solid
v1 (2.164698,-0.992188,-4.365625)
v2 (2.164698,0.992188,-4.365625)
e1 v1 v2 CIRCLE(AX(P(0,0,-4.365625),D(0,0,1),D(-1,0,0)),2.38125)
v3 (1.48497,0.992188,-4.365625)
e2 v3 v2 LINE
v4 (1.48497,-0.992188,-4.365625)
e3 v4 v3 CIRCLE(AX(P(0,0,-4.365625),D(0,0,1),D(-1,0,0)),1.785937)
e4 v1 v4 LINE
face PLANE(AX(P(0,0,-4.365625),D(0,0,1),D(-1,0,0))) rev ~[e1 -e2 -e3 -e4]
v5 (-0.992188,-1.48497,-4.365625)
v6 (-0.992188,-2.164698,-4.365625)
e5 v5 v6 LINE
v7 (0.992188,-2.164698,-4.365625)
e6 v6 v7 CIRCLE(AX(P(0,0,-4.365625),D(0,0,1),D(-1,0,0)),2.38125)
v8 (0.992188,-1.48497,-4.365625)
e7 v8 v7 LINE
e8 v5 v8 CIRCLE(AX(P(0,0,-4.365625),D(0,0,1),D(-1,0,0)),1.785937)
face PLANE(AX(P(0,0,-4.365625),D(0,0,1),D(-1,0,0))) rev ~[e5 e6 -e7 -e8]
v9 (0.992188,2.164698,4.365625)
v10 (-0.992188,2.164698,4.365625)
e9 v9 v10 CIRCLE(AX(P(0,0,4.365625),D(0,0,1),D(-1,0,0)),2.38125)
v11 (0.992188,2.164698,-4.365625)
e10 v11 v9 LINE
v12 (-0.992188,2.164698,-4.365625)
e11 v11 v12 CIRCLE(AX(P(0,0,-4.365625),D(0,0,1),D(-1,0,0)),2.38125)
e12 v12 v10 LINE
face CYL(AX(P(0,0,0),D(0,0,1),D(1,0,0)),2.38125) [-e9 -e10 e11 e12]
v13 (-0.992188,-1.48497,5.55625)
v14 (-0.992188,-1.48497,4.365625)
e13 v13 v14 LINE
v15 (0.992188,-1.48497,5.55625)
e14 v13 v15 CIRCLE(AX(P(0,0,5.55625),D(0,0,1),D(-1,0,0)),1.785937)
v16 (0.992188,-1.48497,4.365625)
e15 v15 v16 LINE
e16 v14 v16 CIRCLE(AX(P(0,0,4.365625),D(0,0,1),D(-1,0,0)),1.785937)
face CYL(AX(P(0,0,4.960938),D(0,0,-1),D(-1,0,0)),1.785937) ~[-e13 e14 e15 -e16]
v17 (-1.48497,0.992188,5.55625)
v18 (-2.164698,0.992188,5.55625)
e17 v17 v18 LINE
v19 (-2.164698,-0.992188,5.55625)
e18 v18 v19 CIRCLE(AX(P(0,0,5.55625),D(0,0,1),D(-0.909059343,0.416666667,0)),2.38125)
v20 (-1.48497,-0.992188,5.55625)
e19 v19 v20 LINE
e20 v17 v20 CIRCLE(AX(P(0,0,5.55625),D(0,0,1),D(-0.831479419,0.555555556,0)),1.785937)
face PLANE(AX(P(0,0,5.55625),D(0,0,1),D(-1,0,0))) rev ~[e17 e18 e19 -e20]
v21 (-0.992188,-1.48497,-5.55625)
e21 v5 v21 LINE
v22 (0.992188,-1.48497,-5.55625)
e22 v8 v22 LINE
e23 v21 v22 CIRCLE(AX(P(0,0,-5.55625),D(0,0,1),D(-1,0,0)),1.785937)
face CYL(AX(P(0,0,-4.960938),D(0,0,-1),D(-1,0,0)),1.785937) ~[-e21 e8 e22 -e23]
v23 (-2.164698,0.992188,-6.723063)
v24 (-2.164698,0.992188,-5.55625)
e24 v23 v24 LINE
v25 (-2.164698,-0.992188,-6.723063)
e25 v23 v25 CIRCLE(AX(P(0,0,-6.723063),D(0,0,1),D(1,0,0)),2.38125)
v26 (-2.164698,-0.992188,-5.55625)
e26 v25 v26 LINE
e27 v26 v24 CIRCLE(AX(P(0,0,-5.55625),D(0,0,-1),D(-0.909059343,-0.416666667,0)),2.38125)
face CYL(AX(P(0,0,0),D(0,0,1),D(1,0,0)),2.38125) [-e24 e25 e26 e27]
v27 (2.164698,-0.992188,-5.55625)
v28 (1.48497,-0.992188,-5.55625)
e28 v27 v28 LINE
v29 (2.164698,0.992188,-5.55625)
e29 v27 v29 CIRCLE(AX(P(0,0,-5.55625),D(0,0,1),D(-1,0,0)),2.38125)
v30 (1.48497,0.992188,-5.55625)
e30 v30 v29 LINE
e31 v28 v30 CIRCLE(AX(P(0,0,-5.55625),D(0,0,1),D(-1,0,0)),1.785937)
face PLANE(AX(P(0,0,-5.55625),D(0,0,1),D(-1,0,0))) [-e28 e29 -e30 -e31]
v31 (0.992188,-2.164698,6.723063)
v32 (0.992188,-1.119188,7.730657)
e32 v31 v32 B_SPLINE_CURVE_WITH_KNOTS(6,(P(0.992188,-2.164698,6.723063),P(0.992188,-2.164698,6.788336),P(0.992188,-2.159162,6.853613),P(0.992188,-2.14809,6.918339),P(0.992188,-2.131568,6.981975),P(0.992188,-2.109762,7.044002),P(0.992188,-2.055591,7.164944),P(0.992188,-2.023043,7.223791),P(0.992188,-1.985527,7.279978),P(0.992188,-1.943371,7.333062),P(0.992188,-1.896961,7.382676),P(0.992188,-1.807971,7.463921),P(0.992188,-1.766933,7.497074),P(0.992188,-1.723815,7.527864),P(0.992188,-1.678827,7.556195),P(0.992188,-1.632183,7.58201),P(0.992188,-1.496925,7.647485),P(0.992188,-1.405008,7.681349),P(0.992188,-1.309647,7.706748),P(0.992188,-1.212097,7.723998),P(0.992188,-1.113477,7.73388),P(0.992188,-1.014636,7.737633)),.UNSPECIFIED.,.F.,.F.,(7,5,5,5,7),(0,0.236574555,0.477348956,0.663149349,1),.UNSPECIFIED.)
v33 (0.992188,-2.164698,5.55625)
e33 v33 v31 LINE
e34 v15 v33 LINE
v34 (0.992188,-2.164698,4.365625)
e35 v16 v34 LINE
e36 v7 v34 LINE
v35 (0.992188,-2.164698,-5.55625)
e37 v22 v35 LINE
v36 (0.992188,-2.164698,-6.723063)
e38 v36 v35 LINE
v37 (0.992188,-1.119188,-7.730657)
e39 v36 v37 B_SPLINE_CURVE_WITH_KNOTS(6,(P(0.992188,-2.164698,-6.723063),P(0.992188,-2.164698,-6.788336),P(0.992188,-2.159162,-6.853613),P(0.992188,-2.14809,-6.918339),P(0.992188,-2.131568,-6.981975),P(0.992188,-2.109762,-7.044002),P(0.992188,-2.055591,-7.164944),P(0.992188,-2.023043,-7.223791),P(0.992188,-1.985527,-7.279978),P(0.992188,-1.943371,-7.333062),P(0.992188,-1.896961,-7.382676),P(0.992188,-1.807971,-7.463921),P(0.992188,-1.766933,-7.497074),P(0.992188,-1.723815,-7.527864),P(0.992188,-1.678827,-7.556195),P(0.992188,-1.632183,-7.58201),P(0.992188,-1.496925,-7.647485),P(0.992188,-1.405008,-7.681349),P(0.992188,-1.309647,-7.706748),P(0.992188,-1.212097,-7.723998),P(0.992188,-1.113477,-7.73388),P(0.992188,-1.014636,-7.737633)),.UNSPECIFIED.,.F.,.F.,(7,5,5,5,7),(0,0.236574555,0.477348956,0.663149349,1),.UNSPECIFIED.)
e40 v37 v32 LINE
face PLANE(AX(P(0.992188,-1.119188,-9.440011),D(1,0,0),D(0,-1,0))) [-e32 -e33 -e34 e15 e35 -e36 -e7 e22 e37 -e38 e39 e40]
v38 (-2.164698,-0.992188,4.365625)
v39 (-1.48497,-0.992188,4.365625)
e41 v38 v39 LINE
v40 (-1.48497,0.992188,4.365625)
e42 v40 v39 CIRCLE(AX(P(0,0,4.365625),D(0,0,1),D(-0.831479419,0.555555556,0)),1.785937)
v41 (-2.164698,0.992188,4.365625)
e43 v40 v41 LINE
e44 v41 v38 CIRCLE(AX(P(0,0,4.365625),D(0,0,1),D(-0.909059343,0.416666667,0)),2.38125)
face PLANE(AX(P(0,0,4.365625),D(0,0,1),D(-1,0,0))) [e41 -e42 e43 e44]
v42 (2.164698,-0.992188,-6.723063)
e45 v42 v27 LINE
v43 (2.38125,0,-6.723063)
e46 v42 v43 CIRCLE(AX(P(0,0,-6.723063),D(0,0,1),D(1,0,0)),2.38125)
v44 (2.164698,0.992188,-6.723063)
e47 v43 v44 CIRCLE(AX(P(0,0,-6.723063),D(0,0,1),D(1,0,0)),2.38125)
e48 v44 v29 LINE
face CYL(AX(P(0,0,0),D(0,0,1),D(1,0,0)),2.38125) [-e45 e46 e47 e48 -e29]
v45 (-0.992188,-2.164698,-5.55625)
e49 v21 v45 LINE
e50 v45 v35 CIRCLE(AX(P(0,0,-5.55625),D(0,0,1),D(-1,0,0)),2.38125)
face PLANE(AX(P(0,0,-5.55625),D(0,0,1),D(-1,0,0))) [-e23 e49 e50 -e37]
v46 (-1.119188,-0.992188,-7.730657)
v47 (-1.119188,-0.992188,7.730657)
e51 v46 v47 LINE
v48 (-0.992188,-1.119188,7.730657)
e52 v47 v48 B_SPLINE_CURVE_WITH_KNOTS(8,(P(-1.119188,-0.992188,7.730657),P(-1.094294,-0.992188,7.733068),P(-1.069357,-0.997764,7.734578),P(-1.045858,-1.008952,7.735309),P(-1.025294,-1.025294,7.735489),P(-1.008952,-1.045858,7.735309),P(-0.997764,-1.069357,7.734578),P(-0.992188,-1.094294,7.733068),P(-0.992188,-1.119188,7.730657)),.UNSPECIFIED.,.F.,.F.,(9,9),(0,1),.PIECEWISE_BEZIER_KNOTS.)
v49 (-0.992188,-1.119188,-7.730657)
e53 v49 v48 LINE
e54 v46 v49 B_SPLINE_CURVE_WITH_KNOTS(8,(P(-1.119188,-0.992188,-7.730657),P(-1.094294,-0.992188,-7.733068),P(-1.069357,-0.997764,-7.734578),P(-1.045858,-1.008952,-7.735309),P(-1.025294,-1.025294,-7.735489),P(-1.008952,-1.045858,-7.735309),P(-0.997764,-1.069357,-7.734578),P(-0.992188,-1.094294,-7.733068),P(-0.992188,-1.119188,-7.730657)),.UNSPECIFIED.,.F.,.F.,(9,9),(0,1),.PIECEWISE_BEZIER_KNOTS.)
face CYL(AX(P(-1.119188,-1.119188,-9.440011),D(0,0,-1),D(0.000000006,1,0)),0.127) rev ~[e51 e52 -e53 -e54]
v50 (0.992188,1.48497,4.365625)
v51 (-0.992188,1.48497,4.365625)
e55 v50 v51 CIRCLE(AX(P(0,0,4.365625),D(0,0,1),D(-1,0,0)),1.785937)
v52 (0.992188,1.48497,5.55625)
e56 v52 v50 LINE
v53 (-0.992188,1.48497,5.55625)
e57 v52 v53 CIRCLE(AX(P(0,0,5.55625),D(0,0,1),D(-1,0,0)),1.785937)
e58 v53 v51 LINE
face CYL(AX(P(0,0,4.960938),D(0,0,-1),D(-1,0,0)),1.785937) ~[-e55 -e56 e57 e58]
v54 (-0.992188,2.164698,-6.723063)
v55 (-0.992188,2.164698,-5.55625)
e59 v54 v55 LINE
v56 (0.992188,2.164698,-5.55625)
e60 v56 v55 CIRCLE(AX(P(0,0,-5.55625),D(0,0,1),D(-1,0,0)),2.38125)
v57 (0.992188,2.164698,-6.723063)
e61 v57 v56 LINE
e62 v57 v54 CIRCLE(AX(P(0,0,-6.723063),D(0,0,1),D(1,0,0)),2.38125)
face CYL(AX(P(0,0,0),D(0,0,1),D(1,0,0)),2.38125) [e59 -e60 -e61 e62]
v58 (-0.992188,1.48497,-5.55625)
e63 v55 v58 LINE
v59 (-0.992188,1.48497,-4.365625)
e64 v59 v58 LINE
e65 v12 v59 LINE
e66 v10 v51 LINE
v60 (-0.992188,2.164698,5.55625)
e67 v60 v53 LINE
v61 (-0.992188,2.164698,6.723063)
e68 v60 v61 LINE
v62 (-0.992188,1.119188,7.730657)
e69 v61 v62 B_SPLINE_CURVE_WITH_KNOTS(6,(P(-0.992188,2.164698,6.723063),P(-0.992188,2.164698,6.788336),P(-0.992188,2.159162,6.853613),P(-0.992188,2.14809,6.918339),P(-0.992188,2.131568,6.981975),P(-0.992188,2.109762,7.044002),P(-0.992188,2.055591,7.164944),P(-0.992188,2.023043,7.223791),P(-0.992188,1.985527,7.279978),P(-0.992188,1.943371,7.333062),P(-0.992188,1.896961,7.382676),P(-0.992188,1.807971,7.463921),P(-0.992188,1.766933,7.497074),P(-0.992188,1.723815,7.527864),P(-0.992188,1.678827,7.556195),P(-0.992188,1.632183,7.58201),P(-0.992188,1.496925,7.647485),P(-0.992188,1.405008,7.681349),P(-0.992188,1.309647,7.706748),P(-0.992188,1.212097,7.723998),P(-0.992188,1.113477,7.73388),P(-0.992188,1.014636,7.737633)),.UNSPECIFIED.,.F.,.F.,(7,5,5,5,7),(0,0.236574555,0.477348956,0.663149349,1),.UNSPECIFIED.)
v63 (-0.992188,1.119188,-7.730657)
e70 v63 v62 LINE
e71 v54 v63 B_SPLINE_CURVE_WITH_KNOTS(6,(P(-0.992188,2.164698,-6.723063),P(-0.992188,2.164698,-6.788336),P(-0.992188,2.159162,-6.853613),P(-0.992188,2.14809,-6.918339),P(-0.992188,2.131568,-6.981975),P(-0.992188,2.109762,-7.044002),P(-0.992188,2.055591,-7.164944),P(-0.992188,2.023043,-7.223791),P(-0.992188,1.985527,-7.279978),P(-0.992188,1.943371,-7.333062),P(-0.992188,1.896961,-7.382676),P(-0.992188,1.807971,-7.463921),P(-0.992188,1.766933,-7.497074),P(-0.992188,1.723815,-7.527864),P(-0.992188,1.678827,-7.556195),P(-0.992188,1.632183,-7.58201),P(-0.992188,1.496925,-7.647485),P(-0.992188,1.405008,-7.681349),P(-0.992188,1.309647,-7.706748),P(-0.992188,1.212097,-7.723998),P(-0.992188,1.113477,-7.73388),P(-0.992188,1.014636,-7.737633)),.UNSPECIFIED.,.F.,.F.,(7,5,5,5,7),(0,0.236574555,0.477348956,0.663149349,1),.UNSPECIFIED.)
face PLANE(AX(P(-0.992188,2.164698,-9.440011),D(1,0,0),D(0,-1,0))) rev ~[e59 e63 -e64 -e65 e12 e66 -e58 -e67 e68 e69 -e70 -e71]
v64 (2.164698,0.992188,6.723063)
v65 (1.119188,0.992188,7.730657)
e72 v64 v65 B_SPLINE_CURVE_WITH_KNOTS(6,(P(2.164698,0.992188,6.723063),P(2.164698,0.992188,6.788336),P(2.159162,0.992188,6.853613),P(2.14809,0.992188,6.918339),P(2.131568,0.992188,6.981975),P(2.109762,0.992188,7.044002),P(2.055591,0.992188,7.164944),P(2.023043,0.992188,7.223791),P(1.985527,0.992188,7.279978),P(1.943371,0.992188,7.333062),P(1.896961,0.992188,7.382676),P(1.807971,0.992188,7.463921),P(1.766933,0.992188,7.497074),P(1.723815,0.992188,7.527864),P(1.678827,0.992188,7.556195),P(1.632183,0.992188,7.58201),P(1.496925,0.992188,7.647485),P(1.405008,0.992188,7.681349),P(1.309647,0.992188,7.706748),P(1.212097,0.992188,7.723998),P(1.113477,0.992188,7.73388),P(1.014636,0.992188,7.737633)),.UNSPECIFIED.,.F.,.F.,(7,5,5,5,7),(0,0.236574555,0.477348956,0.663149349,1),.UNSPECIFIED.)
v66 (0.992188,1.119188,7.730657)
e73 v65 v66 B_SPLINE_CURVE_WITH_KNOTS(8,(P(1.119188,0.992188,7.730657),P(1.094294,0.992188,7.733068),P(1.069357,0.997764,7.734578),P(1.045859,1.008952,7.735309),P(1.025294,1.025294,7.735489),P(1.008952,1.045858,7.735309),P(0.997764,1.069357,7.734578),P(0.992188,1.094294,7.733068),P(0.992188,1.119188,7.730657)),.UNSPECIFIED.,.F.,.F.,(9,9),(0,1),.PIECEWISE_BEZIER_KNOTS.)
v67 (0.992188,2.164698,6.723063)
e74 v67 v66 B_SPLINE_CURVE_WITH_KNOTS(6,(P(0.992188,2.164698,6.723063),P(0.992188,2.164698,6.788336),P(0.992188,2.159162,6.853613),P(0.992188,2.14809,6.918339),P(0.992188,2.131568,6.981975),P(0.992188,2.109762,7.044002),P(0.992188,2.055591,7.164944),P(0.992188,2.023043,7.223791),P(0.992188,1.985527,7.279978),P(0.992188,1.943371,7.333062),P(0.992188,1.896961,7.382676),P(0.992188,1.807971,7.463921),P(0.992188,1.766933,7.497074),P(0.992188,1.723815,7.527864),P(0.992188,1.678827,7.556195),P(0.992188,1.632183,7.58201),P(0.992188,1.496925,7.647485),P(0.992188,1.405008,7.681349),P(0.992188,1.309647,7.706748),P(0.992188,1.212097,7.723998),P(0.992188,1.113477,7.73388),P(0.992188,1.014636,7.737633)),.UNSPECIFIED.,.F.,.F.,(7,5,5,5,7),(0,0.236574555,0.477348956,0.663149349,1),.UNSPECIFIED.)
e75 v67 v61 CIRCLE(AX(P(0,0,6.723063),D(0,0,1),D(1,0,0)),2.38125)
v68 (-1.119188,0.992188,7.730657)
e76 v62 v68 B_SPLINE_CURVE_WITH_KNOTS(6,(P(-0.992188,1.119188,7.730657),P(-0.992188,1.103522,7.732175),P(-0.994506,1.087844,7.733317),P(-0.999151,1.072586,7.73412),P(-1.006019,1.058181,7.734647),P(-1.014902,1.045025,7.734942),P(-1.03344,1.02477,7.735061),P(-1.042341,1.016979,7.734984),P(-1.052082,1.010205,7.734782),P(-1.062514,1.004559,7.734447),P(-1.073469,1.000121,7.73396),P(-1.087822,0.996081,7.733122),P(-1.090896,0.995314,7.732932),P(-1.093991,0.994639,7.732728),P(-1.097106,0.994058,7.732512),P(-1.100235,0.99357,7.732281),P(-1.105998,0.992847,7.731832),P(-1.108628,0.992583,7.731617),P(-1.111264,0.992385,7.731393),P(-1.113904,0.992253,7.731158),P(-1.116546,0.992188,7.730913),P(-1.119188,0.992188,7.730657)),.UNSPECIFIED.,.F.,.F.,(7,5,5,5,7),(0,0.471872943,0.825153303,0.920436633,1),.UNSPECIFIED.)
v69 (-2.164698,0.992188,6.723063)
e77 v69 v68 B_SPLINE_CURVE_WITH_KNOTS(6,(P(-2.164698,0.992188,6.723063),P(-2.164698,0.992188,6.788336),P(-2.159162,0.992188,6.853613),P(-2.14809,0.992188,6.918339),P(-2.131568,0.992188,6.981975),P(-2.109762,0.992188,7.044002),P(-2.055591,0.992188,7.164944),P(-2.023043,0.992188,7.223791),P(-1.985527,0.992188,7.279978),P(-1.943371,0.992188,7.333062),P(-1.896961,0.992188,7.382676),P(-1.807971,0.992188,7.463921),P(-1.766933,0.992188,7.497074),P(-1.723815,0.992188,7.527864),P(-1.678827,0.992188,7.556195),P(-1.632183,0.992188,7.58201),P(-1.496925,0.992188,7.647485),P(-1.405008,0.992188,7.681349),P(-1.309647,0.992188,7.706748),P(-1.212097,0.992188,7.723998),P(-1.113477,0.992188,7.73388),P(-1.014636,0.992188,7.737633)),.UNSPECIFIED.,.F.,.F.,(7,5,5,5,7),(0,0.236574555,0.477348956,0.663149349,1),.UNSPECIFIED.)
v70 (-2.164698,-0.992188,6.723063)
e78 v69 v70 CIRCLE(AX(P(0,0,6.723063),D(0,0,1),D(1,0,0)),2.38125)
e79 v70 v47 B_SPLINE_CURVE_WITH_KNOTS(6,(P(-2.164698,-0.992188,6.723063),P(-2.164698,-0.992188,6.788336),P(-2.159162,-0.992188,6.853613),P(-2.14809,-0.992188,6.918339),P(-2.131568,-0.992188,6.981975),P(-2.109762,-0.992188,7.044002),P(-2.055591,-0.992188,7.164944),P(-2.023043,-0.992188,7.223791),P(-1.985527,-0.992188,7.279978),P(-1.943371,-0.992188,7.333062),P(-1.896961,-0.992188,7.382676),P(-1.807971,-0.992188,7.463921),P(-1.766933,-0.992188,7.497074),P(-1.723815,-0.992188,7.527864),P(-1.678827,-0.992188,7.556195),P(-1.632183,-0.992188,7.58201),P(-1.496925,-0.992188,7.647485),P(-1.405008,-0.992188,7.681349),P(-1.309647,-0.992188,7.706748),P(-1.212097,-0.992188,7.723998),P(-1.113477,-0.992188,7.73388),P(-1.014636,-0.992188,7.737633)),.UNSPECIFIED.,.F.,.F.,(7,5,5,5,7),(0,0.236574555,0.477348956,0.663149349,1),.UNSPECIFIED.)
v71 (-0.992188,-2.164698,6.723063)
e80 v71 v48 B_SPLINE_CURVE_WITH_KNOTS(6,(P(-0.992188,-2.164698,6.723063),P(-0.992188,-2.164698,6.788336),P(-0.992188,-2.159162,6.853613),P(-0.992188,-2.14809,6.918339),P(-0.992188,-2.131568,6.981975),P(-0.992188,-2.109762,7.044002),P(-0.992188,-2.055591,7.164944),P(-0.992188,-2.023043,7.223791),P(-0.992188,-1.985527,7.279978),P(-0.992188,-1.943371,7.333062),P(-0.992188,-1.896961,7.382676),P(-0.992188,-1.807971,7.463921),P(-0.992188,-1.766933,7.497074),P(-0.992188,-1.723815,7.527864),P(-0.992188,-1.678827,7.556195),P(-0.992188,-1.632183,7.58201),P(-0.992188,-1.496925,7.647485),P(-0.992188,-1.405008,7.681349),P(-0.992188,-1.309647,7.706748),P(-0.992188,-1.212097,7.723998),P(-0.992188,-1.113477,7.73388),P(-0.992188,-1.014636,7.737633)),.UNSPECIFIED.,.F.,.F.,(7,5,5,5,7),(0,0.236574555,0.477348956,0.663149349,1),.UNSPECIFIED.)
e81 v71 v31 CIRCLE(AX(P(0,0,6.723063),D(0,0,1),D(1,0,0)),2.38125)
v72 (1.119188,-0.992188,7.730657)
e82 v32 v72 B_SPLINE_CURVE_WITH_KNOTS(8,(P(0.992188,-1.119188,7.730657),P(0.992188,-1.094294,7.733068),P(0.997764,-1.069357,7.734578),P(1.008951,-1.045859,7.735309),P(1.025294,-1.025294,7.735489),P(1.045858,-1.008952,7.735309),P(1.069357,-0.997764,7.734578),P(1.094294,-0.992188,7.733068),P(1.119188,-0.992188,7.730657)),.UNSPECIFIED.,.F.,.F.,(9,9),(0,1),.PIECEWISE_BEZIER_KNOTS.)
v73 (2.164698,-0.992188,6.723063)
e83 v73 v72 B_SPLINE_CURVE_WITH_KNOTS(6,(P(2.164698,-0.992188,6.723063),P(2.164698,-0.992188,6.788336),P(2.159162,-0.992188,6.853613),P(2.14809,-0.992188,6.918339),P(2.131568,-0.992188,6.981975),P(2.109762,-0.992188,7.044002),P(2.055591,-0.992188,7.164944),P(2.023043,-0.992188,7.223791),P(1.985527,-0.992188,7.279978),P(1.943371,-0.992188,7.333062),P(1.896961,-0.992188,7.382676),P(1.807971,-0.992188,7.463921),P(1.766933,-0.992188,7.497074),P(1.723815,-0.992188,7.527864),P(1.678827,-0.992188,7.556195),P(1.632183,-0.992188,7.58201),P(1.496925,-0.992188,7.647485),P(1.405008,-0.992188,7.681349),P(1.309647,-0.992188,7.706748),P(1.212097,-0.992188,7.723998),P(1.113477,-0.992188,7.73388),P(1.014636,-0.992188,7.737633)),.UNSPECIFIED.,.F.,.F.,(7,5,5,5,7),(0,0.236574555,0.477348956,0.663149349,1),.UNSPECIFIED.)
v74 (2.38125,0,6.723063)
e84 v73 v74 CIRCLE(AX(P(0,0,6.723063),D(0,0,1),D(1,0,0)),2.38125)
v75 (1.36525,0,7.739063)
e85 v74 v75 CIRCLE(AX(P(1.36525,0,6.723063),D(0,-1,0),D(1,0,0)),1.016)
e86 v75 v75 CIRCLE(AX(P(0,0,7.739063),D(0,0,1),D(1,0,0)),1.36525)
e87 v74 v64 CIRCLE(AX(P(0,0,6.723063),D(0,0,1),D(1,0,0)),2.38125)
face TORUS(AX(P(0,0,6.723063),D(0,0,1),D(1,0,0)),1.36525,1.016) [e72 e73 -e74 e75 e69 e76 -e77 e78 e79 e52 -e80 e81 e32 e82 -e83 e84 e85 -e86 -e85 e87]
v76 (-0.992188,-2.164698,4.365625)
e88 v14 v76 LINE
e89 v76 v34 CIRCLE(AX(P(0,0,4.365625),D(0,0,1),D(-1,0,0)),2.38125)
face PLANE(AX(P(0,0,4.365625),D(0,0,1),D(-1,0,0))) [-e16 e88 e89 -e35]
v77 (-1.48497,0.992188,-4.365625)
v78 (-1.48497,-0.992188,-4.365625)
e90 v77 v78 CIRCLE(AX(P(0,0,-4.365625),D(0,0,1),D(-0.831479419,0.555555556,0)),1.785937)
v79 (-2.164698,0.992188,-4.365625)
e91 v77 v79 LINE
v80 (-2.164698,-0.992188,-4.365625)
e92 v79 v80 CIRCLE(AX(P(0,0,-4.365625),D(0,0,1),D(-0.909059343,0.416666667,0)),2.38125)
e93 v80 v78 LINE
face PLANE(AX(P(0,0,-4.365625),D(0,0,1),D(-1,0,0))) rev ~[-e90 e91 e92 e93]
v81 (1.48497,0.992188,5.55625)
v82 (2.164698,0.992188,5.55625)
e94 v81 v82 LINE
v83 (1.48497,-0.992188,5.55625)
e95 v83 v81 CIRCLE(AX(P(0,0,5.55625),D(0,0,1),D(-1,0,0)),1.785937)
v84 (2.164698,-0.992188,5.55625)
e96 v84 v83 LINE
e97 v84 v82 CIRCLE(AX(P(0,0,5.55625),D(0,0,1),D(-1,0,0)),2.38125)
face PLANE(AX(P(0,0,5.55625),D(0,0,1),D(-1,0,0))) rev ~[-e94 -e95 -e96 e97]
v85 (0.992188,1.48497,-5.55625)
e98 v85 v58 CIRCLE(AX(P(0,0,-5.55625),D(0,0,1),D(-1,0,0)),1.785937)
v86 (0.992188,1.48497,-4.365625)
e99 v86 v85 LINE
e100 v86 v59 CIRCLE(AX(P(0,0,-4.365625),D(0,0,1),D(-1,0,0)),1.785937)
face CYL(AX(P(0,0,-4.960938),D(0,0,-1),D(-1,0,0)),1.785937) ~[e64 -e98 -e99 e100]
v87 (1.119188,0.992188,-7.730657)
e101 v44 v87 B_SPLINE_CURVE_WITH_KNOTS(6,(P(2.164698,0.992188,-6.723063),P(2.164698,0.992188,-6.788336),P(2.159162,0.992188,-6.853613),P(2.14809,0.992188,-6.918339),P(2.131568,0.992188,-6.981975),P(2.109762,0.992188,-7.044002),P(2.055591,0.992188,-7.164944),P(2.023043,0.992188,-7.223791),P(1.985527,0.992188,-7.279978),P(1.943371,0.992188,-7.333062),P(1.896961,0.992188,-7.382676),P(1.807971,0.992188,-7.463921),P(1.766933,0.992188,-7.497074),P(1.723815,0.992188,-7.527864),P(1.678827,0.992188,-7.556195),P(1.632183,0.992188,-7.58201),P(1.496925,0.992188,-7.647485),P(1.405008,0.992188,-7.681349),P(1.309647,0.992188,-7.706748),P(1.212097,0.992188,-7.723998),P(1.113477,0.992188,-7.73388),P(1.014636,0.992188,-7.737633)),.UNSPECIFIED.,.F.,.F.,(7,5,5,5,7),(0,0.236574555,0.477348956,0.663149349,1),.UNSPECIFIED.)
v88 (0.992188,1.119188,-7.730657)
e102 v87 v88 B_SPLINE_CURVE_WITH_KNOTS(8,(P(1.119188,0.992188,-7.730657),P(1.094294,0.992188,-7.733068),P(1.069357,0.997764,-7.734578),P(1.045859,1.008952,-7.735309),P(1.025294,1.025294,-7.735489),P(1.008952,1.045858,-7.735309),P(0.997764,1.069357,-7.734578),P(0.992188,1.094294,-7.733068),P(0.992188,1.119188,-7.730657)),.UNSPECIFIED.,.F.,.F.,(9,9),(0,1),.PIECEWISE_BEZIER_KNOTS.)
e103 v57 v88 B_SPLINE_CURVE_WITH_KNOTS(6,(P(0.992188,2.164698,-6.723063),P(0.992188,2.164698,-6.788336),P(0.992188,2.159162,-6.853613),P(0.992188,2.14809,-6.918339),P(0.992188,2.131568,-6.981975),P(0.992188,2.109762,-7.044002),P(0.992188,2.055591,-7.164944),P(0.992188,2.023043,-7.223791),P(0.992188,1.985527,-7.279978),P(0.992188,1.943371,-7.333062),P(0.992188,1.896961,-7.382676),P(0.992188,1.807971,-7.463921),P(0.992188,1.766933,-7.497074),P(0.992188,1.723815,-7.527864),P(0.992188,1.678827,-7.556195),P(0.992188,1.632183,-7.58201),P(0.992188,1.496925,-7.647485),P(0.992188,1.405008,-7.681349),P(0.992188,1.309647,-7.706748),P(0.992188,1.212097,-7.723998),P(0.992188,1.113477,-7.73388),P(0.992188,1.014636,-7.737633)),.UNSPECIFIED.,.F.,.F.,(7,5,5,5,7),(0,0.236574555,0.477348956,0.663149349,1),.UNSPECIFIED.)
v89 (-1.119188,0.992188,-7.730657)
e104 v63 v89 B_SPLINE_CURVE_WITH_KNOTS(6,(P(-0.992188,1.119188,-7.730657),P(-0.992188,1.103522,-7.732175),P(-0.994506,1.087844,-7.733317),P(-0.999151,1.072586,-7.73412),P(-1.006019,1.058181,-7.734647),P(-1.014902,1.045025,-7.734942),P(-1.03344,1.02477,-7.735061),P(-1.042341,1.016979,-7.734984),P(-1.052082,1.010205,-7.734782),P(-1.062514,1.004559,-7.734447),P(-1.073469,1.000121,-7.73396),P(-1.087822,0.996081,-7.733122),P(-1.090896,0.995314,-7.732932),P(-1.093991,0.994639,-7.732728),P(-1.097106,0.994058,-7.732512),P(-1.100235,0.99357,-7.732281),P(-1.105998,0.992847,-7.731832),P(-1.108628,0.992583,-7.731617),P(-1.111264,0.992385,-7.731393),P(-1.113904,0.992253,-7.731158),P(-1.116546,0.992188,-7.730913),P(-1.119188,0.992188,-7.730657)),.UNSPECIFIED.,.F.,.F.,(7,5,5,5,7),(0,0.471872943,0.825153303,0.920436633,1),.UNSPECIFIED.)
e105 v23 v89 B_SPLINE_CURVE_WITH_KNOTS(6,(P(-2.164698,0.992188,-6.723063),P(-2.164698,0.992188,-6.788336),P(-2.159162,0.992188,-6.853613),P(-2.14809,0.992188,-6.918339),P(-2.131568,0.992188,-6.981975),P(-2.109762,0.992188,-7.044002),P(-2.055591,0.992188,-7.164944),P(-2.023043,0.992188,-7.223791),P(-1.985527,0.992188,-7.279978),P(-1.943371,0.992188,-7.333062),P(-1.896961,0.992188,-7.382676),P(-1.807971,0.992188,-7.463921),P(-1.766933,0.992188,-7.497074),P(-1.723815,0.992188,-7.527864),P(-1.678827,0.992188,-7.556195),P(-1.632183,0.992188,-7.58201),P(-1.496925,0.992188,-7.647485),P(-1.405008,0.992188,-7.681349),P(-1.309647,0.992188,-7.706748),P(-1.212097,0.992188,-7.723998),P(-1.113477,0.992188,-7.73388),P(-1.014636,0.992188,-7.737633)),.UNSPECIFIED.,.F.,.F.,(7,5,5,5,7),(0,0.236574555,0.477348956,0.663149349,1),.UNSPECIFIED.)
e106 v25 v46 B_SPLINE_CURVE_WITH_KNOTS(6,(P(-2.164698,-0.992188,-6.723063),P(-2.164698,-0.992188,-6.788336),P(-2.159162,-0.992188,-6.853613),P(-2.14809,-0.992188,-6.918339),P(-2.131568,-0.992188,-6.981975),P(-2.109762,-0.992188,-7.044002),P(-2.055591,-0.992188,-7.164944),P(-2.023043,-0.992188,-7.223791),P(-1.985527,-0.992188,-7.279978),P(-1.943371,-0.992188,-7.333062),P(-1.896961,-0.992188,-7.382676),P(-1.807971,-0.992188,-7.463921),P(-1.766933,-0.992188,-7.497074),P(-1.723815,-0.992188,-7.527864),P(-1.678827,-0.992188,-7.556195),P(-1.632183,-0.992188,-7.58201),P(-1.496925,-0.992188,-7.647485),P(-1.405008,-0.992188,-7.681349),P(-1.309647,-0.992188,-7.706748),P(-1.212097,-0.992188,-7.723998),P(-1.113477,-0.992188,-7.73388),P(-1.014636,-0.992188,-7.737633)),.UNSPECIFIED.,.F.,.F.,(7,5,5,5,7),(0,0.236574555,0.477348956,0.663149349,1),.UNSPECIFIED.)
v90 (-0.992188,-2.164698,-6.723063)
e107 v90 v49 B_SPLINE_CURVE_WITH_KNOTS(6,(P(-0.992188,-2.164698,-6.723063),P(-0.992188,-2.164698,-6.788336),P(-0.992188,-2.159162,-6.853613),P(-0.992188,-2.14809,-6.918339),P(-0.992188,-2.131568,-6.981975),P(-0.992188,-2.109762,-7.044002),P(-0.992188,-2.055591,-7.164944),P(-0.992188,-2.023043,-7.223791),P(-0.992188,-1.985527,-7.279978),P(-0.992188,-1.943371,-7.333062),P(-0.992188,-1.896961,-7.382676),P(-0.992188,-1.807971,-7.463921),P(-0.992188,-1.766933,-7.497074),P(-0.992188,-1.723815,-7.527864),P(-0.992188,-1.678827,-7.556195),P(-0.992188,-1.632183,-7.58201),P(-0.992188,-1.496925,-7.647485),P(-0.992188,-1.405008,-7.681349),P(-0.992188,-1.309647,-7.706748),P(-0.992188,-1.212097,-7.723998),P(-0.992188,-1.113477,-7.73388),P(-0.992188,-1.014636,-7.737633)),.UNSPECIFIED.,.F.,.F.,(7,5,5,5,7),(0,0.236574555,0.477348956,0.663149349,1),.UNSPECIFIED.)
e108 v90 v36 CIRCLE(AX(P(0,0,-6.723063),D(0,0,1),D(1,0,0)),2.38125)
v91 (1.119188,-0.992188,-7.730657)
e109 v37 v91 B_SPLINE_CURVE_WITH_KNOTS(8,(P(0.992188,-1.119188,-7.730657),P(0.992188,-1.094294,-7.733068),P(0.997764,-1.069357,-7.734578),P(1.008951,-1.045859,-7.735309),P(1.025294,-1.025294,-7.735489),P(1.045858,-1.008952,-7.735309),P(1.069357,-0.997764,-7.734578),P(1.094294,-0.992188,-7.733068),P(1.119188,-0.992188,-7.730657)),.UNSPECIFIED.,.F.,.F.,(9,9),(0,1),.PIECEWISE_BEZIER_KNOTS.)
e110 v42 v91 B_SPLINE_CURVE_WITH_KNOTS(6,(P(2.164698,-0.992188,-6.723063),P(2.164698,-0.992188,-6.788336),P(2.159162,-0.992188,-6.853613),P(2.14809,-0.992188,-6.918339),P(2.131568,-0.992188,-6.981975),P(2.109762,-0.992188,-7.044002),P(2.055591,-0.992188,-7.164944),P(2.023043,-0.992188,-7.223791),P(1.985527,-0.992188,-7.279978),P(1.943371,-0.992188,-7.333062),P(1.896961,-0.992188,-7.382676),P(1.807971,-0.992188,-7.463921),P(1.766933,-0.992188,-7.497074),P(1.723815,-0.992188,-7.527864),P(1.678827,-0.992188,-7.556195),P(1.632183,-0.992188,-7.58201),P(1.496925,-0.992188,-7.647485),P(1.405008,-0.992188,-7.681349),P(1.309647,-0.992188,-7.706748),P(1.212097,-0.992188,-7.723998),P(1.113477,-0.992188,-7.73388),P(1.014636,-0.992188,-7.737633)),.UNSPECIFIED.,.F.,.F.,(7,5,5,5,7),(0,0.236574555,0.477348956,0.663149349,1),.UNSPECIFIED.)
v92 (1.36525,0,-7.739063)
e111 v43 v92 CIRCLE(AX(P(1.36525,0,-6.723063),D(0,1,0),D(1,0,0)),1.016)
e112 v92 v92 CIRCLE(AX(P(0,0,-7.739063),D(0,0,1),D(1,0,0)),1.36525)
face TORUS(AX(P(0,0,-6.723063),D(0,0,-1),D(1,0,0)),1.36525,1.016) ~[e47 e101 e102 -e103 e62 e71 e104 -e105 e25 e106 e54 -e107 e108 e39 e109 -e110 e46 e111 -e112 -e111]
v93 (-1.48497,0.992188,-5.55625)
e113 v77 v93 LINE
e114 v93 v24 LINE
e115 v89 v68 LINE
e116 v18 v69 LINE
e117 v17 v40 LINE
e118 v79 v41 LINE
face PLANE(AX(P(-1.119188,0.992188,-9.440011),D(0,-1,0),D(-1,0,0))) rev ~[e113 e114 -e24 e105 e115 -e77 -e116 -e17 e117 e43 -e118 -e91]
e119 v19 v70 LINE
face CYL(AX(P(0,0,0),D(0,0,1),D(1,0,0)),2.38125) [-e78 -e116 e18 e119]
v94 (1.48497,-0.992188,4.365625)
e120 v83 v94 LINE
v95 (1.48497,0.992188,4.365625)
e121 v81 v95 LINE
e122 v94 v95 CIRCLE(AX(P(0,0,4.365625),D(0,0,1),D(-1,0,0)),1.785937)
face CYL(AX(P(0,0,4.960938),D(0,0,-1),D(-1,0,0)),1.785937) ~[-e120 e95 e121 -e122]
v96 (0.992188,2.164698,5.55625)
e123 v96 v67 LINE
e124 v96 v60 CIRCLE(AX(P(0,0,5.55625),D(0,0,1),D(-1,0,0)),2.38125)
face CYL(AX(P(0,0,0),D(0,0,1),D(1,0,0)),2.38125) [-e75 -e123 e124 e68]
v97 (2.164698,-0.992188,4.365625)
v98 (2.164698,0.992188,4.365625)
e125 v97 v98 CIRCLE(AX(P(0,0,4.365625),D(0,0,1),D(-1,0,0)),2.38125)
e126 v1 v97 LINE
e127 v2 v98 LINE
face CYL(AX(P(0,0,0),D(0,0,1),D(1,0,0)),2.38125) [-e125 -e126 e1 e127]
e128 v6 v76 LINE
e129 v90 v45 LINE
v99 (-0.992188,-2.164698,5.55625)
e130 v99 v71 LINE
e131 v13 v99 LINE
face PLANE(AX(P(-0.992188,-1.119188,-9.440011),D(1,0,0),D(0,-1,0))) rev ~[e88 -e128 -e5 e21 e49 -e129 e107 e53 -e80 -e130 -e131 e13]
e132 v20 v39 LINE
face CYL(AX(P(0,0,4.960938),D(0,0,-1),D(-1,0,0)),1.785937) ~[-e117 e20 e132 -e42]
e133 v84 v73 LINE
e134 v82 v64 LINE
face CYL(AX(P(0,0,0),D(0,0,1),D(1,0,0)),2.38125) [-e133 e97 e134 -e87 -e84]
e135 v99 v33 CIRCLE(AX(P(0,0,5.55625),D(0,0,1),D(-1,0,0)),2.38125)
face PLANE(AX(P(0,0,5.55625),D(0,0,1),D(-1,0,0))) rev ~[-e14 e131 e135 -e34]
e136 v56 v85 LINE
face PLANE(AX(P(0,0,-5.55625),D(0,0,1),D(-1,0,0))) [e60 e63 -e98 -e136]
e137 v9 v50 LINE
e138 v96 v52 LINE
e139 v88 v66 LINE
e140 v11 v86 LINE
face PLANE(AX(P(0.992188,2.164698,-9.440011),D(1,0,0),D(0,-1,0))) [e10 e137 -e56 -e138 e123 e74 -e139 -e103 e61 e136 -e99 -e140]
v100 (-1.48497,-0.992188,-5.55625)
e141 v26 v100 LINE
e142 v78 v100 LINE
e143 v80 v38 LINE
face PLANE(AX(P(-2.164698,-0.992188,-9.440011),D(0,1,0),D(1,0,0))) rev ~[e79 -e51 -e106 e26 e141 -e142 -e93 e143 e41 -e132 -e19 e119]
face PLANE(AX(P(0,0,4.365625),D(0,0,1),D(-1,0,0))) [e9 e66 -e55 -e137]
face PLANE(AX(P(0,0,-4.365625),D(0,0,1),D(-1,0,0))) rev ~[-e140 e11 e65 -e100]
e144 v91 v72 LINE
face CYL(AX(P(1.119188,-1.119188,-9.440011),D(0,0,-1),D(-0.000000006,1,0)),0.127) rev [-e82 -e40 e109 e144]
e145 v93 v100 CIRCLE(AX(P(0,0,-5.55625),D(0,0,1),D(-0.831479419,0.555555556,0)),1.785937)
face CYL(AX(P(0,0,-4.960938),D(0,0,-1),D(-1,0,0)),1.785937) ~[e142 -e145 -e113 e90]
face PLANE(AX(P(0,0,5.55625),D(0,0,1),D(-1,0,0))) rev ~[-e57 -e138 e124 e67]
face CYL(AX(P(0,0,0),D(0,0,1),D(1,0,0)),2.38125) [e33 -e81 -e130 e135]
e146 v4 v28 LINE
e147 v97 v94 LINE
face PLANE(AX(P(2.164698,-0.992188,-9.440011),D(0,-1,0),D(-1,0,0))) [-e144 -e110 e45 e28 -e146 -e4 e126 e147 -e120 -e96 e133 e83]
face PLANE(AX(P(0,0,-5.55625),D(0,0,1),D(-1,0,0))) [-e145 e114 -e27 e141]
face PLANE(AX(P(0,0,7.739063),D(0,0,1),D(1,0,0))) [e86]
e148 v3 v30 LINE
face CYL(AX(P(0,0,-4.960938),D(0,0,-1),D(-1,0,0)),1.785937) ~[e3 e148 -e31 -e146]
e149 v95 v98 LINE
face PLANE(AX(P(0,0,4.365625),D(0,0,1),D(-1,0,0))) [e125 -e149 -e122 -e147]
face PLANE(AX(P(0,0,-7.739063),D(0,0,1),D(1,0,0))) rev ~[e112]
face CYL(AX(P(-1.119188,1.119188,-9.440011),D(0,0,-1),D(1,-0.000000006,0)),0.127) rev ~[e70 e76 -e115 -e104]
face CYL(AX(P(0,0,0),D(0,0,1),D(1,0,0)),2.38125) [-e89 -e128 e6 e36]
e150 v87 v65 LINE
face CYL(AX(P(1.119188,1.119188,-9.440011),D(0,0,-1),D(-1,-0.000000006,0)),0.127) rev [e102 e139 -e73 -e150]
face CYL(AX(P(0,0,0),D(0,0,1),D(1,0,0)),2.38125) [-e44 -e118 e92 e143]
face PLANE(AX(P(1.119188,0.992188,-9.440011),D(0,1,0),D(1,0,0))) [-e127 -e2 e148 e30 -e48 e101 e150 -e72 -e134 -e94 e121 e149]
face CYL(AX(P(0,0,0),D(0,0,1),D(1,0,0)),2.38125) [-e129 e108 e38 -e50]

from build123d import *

# Parameters (mm, degrees)
SKETCH1_R           = 2.38125
EXTRUDE1_DEPTH      = 7.7390625
FILLET1_R           = 1.016
EXTRUDE2_DEPTH      = 9.440011345
EXTRUDE2_DEPTH_BACK = 9.440011345
SKETCH4_W           = 0.5953125
SKETCH4_H           = 1.190625


with BuildPart() as part:
    # Sketch1 → Extrude1 (new, symmetric)
    with BuildSketch(Plane.XY):
        Circle(SKETCH1_R)
    extrude(amount=EXTRUDE1_DEPTH, both=True)

    # Fillet1
    fillet1_edges = [part.edges().sort_by_distance(p)[0] for p in [
        (-2.38125, 0, -7.7390625),
        (-2.38125, 0, 7.7390625),
    ]]
    fillet(fillet1_edges, radius=FILLET1_R)

    # Sketch3 → Extrude2 (cut, two sides: drawn at the far end of the back side and taken through both)
    with BuildSketch(Plane.XY.offset(-EXTRUDE2_DEPTH_BACK)):
        with BuildLine():
            Line((-0.9921875, 2.16469756), (-0.9921875, 1.1191875))
            ThreePointArc((-0.9921875, 1.1191875), (-1.029384939, 1.029384939), (-1.1191875, 0.9921875))
            Line((-1.1191875, 0.9921875), (-2.16469756, 0.9921875))
            ThreePointArc((-2.16469756, 0.9921875), (-1.683798023, 1.683798023), (-0.9921875, 2.16469756))
        make_face()
        with BuildLine():
            Line((-2.16469756, -0.9921875), (-1.1191875, -0.9921875))
            ThreePointArc((-1.1191875, -0.9921875), (-1.029384939, -1.029384939), (-0.9921875, -1.1191875))
            Line((-0.9921875, -1.1191875), (-0.9921875, -2.16469756))
            ThreePointArc((-0.9921875, -2.16469756), (-1.683798023, -1.683798023), (-2.16469756, -0.9921875))
        make_face()
        with BuildLine():
            Line((0.9921875, 2.16469756), (0.9921875, 1.1191875))
            ThreePointArc((0.9921875, 1.1191875), (1.029384939, 1.029384939), (1.1191875, 0.9921875))
            Line((1.1191875, 0.9921875), (2.16469756, 0.9921875))
            ThreePointArc((2.16469756, 0.9921875), (1.683798023, 1.683798023), (0.9921875, 2.16469756))
        make_face()
        with BuildLine():
            Line((0.9921875, -1.1191875), (0.9921875, -2.16469756))
            ThreePointArc((0.9921875, -2.16469756), (1.683798023, -1.683798023), (2.16469756, -0.9921875))
            Line((2.16469756, -0.9921875), (1.1191875, -0.9921875))
            ThreePointArc((1.1191875, -0.9921875), (1.029384939, -1.029384939), (0.9921875, -1.1191875))
        make_face()
    extrude(amount=EXTRUDE2_DEPTH + EXTRUDE2_DEPTH_BACK, mode=Mode.SUBTRACT)

    # Sketch4 → Cut-Revolve1 (revolve, cut)
    with BuildSketch(Plane(origin=(0, 0, 0), x_dir=(1, 0, 0), z_dir=(0, 1, 0))):
        with Locations((-2.08359375, 4.9609375)):
            Rectangle(SKETCH4_W, SKETCH4_H)
        with Locations((-2.08359375, -4.9609375)):
            Rectangle(SKETCH4_W, SKETCH4_H)
    revolve(axis=Axis((0, 0, -7.7390625), (0, 0, 1)), mode=Mode.SUBTRACT)


solid = part.part
